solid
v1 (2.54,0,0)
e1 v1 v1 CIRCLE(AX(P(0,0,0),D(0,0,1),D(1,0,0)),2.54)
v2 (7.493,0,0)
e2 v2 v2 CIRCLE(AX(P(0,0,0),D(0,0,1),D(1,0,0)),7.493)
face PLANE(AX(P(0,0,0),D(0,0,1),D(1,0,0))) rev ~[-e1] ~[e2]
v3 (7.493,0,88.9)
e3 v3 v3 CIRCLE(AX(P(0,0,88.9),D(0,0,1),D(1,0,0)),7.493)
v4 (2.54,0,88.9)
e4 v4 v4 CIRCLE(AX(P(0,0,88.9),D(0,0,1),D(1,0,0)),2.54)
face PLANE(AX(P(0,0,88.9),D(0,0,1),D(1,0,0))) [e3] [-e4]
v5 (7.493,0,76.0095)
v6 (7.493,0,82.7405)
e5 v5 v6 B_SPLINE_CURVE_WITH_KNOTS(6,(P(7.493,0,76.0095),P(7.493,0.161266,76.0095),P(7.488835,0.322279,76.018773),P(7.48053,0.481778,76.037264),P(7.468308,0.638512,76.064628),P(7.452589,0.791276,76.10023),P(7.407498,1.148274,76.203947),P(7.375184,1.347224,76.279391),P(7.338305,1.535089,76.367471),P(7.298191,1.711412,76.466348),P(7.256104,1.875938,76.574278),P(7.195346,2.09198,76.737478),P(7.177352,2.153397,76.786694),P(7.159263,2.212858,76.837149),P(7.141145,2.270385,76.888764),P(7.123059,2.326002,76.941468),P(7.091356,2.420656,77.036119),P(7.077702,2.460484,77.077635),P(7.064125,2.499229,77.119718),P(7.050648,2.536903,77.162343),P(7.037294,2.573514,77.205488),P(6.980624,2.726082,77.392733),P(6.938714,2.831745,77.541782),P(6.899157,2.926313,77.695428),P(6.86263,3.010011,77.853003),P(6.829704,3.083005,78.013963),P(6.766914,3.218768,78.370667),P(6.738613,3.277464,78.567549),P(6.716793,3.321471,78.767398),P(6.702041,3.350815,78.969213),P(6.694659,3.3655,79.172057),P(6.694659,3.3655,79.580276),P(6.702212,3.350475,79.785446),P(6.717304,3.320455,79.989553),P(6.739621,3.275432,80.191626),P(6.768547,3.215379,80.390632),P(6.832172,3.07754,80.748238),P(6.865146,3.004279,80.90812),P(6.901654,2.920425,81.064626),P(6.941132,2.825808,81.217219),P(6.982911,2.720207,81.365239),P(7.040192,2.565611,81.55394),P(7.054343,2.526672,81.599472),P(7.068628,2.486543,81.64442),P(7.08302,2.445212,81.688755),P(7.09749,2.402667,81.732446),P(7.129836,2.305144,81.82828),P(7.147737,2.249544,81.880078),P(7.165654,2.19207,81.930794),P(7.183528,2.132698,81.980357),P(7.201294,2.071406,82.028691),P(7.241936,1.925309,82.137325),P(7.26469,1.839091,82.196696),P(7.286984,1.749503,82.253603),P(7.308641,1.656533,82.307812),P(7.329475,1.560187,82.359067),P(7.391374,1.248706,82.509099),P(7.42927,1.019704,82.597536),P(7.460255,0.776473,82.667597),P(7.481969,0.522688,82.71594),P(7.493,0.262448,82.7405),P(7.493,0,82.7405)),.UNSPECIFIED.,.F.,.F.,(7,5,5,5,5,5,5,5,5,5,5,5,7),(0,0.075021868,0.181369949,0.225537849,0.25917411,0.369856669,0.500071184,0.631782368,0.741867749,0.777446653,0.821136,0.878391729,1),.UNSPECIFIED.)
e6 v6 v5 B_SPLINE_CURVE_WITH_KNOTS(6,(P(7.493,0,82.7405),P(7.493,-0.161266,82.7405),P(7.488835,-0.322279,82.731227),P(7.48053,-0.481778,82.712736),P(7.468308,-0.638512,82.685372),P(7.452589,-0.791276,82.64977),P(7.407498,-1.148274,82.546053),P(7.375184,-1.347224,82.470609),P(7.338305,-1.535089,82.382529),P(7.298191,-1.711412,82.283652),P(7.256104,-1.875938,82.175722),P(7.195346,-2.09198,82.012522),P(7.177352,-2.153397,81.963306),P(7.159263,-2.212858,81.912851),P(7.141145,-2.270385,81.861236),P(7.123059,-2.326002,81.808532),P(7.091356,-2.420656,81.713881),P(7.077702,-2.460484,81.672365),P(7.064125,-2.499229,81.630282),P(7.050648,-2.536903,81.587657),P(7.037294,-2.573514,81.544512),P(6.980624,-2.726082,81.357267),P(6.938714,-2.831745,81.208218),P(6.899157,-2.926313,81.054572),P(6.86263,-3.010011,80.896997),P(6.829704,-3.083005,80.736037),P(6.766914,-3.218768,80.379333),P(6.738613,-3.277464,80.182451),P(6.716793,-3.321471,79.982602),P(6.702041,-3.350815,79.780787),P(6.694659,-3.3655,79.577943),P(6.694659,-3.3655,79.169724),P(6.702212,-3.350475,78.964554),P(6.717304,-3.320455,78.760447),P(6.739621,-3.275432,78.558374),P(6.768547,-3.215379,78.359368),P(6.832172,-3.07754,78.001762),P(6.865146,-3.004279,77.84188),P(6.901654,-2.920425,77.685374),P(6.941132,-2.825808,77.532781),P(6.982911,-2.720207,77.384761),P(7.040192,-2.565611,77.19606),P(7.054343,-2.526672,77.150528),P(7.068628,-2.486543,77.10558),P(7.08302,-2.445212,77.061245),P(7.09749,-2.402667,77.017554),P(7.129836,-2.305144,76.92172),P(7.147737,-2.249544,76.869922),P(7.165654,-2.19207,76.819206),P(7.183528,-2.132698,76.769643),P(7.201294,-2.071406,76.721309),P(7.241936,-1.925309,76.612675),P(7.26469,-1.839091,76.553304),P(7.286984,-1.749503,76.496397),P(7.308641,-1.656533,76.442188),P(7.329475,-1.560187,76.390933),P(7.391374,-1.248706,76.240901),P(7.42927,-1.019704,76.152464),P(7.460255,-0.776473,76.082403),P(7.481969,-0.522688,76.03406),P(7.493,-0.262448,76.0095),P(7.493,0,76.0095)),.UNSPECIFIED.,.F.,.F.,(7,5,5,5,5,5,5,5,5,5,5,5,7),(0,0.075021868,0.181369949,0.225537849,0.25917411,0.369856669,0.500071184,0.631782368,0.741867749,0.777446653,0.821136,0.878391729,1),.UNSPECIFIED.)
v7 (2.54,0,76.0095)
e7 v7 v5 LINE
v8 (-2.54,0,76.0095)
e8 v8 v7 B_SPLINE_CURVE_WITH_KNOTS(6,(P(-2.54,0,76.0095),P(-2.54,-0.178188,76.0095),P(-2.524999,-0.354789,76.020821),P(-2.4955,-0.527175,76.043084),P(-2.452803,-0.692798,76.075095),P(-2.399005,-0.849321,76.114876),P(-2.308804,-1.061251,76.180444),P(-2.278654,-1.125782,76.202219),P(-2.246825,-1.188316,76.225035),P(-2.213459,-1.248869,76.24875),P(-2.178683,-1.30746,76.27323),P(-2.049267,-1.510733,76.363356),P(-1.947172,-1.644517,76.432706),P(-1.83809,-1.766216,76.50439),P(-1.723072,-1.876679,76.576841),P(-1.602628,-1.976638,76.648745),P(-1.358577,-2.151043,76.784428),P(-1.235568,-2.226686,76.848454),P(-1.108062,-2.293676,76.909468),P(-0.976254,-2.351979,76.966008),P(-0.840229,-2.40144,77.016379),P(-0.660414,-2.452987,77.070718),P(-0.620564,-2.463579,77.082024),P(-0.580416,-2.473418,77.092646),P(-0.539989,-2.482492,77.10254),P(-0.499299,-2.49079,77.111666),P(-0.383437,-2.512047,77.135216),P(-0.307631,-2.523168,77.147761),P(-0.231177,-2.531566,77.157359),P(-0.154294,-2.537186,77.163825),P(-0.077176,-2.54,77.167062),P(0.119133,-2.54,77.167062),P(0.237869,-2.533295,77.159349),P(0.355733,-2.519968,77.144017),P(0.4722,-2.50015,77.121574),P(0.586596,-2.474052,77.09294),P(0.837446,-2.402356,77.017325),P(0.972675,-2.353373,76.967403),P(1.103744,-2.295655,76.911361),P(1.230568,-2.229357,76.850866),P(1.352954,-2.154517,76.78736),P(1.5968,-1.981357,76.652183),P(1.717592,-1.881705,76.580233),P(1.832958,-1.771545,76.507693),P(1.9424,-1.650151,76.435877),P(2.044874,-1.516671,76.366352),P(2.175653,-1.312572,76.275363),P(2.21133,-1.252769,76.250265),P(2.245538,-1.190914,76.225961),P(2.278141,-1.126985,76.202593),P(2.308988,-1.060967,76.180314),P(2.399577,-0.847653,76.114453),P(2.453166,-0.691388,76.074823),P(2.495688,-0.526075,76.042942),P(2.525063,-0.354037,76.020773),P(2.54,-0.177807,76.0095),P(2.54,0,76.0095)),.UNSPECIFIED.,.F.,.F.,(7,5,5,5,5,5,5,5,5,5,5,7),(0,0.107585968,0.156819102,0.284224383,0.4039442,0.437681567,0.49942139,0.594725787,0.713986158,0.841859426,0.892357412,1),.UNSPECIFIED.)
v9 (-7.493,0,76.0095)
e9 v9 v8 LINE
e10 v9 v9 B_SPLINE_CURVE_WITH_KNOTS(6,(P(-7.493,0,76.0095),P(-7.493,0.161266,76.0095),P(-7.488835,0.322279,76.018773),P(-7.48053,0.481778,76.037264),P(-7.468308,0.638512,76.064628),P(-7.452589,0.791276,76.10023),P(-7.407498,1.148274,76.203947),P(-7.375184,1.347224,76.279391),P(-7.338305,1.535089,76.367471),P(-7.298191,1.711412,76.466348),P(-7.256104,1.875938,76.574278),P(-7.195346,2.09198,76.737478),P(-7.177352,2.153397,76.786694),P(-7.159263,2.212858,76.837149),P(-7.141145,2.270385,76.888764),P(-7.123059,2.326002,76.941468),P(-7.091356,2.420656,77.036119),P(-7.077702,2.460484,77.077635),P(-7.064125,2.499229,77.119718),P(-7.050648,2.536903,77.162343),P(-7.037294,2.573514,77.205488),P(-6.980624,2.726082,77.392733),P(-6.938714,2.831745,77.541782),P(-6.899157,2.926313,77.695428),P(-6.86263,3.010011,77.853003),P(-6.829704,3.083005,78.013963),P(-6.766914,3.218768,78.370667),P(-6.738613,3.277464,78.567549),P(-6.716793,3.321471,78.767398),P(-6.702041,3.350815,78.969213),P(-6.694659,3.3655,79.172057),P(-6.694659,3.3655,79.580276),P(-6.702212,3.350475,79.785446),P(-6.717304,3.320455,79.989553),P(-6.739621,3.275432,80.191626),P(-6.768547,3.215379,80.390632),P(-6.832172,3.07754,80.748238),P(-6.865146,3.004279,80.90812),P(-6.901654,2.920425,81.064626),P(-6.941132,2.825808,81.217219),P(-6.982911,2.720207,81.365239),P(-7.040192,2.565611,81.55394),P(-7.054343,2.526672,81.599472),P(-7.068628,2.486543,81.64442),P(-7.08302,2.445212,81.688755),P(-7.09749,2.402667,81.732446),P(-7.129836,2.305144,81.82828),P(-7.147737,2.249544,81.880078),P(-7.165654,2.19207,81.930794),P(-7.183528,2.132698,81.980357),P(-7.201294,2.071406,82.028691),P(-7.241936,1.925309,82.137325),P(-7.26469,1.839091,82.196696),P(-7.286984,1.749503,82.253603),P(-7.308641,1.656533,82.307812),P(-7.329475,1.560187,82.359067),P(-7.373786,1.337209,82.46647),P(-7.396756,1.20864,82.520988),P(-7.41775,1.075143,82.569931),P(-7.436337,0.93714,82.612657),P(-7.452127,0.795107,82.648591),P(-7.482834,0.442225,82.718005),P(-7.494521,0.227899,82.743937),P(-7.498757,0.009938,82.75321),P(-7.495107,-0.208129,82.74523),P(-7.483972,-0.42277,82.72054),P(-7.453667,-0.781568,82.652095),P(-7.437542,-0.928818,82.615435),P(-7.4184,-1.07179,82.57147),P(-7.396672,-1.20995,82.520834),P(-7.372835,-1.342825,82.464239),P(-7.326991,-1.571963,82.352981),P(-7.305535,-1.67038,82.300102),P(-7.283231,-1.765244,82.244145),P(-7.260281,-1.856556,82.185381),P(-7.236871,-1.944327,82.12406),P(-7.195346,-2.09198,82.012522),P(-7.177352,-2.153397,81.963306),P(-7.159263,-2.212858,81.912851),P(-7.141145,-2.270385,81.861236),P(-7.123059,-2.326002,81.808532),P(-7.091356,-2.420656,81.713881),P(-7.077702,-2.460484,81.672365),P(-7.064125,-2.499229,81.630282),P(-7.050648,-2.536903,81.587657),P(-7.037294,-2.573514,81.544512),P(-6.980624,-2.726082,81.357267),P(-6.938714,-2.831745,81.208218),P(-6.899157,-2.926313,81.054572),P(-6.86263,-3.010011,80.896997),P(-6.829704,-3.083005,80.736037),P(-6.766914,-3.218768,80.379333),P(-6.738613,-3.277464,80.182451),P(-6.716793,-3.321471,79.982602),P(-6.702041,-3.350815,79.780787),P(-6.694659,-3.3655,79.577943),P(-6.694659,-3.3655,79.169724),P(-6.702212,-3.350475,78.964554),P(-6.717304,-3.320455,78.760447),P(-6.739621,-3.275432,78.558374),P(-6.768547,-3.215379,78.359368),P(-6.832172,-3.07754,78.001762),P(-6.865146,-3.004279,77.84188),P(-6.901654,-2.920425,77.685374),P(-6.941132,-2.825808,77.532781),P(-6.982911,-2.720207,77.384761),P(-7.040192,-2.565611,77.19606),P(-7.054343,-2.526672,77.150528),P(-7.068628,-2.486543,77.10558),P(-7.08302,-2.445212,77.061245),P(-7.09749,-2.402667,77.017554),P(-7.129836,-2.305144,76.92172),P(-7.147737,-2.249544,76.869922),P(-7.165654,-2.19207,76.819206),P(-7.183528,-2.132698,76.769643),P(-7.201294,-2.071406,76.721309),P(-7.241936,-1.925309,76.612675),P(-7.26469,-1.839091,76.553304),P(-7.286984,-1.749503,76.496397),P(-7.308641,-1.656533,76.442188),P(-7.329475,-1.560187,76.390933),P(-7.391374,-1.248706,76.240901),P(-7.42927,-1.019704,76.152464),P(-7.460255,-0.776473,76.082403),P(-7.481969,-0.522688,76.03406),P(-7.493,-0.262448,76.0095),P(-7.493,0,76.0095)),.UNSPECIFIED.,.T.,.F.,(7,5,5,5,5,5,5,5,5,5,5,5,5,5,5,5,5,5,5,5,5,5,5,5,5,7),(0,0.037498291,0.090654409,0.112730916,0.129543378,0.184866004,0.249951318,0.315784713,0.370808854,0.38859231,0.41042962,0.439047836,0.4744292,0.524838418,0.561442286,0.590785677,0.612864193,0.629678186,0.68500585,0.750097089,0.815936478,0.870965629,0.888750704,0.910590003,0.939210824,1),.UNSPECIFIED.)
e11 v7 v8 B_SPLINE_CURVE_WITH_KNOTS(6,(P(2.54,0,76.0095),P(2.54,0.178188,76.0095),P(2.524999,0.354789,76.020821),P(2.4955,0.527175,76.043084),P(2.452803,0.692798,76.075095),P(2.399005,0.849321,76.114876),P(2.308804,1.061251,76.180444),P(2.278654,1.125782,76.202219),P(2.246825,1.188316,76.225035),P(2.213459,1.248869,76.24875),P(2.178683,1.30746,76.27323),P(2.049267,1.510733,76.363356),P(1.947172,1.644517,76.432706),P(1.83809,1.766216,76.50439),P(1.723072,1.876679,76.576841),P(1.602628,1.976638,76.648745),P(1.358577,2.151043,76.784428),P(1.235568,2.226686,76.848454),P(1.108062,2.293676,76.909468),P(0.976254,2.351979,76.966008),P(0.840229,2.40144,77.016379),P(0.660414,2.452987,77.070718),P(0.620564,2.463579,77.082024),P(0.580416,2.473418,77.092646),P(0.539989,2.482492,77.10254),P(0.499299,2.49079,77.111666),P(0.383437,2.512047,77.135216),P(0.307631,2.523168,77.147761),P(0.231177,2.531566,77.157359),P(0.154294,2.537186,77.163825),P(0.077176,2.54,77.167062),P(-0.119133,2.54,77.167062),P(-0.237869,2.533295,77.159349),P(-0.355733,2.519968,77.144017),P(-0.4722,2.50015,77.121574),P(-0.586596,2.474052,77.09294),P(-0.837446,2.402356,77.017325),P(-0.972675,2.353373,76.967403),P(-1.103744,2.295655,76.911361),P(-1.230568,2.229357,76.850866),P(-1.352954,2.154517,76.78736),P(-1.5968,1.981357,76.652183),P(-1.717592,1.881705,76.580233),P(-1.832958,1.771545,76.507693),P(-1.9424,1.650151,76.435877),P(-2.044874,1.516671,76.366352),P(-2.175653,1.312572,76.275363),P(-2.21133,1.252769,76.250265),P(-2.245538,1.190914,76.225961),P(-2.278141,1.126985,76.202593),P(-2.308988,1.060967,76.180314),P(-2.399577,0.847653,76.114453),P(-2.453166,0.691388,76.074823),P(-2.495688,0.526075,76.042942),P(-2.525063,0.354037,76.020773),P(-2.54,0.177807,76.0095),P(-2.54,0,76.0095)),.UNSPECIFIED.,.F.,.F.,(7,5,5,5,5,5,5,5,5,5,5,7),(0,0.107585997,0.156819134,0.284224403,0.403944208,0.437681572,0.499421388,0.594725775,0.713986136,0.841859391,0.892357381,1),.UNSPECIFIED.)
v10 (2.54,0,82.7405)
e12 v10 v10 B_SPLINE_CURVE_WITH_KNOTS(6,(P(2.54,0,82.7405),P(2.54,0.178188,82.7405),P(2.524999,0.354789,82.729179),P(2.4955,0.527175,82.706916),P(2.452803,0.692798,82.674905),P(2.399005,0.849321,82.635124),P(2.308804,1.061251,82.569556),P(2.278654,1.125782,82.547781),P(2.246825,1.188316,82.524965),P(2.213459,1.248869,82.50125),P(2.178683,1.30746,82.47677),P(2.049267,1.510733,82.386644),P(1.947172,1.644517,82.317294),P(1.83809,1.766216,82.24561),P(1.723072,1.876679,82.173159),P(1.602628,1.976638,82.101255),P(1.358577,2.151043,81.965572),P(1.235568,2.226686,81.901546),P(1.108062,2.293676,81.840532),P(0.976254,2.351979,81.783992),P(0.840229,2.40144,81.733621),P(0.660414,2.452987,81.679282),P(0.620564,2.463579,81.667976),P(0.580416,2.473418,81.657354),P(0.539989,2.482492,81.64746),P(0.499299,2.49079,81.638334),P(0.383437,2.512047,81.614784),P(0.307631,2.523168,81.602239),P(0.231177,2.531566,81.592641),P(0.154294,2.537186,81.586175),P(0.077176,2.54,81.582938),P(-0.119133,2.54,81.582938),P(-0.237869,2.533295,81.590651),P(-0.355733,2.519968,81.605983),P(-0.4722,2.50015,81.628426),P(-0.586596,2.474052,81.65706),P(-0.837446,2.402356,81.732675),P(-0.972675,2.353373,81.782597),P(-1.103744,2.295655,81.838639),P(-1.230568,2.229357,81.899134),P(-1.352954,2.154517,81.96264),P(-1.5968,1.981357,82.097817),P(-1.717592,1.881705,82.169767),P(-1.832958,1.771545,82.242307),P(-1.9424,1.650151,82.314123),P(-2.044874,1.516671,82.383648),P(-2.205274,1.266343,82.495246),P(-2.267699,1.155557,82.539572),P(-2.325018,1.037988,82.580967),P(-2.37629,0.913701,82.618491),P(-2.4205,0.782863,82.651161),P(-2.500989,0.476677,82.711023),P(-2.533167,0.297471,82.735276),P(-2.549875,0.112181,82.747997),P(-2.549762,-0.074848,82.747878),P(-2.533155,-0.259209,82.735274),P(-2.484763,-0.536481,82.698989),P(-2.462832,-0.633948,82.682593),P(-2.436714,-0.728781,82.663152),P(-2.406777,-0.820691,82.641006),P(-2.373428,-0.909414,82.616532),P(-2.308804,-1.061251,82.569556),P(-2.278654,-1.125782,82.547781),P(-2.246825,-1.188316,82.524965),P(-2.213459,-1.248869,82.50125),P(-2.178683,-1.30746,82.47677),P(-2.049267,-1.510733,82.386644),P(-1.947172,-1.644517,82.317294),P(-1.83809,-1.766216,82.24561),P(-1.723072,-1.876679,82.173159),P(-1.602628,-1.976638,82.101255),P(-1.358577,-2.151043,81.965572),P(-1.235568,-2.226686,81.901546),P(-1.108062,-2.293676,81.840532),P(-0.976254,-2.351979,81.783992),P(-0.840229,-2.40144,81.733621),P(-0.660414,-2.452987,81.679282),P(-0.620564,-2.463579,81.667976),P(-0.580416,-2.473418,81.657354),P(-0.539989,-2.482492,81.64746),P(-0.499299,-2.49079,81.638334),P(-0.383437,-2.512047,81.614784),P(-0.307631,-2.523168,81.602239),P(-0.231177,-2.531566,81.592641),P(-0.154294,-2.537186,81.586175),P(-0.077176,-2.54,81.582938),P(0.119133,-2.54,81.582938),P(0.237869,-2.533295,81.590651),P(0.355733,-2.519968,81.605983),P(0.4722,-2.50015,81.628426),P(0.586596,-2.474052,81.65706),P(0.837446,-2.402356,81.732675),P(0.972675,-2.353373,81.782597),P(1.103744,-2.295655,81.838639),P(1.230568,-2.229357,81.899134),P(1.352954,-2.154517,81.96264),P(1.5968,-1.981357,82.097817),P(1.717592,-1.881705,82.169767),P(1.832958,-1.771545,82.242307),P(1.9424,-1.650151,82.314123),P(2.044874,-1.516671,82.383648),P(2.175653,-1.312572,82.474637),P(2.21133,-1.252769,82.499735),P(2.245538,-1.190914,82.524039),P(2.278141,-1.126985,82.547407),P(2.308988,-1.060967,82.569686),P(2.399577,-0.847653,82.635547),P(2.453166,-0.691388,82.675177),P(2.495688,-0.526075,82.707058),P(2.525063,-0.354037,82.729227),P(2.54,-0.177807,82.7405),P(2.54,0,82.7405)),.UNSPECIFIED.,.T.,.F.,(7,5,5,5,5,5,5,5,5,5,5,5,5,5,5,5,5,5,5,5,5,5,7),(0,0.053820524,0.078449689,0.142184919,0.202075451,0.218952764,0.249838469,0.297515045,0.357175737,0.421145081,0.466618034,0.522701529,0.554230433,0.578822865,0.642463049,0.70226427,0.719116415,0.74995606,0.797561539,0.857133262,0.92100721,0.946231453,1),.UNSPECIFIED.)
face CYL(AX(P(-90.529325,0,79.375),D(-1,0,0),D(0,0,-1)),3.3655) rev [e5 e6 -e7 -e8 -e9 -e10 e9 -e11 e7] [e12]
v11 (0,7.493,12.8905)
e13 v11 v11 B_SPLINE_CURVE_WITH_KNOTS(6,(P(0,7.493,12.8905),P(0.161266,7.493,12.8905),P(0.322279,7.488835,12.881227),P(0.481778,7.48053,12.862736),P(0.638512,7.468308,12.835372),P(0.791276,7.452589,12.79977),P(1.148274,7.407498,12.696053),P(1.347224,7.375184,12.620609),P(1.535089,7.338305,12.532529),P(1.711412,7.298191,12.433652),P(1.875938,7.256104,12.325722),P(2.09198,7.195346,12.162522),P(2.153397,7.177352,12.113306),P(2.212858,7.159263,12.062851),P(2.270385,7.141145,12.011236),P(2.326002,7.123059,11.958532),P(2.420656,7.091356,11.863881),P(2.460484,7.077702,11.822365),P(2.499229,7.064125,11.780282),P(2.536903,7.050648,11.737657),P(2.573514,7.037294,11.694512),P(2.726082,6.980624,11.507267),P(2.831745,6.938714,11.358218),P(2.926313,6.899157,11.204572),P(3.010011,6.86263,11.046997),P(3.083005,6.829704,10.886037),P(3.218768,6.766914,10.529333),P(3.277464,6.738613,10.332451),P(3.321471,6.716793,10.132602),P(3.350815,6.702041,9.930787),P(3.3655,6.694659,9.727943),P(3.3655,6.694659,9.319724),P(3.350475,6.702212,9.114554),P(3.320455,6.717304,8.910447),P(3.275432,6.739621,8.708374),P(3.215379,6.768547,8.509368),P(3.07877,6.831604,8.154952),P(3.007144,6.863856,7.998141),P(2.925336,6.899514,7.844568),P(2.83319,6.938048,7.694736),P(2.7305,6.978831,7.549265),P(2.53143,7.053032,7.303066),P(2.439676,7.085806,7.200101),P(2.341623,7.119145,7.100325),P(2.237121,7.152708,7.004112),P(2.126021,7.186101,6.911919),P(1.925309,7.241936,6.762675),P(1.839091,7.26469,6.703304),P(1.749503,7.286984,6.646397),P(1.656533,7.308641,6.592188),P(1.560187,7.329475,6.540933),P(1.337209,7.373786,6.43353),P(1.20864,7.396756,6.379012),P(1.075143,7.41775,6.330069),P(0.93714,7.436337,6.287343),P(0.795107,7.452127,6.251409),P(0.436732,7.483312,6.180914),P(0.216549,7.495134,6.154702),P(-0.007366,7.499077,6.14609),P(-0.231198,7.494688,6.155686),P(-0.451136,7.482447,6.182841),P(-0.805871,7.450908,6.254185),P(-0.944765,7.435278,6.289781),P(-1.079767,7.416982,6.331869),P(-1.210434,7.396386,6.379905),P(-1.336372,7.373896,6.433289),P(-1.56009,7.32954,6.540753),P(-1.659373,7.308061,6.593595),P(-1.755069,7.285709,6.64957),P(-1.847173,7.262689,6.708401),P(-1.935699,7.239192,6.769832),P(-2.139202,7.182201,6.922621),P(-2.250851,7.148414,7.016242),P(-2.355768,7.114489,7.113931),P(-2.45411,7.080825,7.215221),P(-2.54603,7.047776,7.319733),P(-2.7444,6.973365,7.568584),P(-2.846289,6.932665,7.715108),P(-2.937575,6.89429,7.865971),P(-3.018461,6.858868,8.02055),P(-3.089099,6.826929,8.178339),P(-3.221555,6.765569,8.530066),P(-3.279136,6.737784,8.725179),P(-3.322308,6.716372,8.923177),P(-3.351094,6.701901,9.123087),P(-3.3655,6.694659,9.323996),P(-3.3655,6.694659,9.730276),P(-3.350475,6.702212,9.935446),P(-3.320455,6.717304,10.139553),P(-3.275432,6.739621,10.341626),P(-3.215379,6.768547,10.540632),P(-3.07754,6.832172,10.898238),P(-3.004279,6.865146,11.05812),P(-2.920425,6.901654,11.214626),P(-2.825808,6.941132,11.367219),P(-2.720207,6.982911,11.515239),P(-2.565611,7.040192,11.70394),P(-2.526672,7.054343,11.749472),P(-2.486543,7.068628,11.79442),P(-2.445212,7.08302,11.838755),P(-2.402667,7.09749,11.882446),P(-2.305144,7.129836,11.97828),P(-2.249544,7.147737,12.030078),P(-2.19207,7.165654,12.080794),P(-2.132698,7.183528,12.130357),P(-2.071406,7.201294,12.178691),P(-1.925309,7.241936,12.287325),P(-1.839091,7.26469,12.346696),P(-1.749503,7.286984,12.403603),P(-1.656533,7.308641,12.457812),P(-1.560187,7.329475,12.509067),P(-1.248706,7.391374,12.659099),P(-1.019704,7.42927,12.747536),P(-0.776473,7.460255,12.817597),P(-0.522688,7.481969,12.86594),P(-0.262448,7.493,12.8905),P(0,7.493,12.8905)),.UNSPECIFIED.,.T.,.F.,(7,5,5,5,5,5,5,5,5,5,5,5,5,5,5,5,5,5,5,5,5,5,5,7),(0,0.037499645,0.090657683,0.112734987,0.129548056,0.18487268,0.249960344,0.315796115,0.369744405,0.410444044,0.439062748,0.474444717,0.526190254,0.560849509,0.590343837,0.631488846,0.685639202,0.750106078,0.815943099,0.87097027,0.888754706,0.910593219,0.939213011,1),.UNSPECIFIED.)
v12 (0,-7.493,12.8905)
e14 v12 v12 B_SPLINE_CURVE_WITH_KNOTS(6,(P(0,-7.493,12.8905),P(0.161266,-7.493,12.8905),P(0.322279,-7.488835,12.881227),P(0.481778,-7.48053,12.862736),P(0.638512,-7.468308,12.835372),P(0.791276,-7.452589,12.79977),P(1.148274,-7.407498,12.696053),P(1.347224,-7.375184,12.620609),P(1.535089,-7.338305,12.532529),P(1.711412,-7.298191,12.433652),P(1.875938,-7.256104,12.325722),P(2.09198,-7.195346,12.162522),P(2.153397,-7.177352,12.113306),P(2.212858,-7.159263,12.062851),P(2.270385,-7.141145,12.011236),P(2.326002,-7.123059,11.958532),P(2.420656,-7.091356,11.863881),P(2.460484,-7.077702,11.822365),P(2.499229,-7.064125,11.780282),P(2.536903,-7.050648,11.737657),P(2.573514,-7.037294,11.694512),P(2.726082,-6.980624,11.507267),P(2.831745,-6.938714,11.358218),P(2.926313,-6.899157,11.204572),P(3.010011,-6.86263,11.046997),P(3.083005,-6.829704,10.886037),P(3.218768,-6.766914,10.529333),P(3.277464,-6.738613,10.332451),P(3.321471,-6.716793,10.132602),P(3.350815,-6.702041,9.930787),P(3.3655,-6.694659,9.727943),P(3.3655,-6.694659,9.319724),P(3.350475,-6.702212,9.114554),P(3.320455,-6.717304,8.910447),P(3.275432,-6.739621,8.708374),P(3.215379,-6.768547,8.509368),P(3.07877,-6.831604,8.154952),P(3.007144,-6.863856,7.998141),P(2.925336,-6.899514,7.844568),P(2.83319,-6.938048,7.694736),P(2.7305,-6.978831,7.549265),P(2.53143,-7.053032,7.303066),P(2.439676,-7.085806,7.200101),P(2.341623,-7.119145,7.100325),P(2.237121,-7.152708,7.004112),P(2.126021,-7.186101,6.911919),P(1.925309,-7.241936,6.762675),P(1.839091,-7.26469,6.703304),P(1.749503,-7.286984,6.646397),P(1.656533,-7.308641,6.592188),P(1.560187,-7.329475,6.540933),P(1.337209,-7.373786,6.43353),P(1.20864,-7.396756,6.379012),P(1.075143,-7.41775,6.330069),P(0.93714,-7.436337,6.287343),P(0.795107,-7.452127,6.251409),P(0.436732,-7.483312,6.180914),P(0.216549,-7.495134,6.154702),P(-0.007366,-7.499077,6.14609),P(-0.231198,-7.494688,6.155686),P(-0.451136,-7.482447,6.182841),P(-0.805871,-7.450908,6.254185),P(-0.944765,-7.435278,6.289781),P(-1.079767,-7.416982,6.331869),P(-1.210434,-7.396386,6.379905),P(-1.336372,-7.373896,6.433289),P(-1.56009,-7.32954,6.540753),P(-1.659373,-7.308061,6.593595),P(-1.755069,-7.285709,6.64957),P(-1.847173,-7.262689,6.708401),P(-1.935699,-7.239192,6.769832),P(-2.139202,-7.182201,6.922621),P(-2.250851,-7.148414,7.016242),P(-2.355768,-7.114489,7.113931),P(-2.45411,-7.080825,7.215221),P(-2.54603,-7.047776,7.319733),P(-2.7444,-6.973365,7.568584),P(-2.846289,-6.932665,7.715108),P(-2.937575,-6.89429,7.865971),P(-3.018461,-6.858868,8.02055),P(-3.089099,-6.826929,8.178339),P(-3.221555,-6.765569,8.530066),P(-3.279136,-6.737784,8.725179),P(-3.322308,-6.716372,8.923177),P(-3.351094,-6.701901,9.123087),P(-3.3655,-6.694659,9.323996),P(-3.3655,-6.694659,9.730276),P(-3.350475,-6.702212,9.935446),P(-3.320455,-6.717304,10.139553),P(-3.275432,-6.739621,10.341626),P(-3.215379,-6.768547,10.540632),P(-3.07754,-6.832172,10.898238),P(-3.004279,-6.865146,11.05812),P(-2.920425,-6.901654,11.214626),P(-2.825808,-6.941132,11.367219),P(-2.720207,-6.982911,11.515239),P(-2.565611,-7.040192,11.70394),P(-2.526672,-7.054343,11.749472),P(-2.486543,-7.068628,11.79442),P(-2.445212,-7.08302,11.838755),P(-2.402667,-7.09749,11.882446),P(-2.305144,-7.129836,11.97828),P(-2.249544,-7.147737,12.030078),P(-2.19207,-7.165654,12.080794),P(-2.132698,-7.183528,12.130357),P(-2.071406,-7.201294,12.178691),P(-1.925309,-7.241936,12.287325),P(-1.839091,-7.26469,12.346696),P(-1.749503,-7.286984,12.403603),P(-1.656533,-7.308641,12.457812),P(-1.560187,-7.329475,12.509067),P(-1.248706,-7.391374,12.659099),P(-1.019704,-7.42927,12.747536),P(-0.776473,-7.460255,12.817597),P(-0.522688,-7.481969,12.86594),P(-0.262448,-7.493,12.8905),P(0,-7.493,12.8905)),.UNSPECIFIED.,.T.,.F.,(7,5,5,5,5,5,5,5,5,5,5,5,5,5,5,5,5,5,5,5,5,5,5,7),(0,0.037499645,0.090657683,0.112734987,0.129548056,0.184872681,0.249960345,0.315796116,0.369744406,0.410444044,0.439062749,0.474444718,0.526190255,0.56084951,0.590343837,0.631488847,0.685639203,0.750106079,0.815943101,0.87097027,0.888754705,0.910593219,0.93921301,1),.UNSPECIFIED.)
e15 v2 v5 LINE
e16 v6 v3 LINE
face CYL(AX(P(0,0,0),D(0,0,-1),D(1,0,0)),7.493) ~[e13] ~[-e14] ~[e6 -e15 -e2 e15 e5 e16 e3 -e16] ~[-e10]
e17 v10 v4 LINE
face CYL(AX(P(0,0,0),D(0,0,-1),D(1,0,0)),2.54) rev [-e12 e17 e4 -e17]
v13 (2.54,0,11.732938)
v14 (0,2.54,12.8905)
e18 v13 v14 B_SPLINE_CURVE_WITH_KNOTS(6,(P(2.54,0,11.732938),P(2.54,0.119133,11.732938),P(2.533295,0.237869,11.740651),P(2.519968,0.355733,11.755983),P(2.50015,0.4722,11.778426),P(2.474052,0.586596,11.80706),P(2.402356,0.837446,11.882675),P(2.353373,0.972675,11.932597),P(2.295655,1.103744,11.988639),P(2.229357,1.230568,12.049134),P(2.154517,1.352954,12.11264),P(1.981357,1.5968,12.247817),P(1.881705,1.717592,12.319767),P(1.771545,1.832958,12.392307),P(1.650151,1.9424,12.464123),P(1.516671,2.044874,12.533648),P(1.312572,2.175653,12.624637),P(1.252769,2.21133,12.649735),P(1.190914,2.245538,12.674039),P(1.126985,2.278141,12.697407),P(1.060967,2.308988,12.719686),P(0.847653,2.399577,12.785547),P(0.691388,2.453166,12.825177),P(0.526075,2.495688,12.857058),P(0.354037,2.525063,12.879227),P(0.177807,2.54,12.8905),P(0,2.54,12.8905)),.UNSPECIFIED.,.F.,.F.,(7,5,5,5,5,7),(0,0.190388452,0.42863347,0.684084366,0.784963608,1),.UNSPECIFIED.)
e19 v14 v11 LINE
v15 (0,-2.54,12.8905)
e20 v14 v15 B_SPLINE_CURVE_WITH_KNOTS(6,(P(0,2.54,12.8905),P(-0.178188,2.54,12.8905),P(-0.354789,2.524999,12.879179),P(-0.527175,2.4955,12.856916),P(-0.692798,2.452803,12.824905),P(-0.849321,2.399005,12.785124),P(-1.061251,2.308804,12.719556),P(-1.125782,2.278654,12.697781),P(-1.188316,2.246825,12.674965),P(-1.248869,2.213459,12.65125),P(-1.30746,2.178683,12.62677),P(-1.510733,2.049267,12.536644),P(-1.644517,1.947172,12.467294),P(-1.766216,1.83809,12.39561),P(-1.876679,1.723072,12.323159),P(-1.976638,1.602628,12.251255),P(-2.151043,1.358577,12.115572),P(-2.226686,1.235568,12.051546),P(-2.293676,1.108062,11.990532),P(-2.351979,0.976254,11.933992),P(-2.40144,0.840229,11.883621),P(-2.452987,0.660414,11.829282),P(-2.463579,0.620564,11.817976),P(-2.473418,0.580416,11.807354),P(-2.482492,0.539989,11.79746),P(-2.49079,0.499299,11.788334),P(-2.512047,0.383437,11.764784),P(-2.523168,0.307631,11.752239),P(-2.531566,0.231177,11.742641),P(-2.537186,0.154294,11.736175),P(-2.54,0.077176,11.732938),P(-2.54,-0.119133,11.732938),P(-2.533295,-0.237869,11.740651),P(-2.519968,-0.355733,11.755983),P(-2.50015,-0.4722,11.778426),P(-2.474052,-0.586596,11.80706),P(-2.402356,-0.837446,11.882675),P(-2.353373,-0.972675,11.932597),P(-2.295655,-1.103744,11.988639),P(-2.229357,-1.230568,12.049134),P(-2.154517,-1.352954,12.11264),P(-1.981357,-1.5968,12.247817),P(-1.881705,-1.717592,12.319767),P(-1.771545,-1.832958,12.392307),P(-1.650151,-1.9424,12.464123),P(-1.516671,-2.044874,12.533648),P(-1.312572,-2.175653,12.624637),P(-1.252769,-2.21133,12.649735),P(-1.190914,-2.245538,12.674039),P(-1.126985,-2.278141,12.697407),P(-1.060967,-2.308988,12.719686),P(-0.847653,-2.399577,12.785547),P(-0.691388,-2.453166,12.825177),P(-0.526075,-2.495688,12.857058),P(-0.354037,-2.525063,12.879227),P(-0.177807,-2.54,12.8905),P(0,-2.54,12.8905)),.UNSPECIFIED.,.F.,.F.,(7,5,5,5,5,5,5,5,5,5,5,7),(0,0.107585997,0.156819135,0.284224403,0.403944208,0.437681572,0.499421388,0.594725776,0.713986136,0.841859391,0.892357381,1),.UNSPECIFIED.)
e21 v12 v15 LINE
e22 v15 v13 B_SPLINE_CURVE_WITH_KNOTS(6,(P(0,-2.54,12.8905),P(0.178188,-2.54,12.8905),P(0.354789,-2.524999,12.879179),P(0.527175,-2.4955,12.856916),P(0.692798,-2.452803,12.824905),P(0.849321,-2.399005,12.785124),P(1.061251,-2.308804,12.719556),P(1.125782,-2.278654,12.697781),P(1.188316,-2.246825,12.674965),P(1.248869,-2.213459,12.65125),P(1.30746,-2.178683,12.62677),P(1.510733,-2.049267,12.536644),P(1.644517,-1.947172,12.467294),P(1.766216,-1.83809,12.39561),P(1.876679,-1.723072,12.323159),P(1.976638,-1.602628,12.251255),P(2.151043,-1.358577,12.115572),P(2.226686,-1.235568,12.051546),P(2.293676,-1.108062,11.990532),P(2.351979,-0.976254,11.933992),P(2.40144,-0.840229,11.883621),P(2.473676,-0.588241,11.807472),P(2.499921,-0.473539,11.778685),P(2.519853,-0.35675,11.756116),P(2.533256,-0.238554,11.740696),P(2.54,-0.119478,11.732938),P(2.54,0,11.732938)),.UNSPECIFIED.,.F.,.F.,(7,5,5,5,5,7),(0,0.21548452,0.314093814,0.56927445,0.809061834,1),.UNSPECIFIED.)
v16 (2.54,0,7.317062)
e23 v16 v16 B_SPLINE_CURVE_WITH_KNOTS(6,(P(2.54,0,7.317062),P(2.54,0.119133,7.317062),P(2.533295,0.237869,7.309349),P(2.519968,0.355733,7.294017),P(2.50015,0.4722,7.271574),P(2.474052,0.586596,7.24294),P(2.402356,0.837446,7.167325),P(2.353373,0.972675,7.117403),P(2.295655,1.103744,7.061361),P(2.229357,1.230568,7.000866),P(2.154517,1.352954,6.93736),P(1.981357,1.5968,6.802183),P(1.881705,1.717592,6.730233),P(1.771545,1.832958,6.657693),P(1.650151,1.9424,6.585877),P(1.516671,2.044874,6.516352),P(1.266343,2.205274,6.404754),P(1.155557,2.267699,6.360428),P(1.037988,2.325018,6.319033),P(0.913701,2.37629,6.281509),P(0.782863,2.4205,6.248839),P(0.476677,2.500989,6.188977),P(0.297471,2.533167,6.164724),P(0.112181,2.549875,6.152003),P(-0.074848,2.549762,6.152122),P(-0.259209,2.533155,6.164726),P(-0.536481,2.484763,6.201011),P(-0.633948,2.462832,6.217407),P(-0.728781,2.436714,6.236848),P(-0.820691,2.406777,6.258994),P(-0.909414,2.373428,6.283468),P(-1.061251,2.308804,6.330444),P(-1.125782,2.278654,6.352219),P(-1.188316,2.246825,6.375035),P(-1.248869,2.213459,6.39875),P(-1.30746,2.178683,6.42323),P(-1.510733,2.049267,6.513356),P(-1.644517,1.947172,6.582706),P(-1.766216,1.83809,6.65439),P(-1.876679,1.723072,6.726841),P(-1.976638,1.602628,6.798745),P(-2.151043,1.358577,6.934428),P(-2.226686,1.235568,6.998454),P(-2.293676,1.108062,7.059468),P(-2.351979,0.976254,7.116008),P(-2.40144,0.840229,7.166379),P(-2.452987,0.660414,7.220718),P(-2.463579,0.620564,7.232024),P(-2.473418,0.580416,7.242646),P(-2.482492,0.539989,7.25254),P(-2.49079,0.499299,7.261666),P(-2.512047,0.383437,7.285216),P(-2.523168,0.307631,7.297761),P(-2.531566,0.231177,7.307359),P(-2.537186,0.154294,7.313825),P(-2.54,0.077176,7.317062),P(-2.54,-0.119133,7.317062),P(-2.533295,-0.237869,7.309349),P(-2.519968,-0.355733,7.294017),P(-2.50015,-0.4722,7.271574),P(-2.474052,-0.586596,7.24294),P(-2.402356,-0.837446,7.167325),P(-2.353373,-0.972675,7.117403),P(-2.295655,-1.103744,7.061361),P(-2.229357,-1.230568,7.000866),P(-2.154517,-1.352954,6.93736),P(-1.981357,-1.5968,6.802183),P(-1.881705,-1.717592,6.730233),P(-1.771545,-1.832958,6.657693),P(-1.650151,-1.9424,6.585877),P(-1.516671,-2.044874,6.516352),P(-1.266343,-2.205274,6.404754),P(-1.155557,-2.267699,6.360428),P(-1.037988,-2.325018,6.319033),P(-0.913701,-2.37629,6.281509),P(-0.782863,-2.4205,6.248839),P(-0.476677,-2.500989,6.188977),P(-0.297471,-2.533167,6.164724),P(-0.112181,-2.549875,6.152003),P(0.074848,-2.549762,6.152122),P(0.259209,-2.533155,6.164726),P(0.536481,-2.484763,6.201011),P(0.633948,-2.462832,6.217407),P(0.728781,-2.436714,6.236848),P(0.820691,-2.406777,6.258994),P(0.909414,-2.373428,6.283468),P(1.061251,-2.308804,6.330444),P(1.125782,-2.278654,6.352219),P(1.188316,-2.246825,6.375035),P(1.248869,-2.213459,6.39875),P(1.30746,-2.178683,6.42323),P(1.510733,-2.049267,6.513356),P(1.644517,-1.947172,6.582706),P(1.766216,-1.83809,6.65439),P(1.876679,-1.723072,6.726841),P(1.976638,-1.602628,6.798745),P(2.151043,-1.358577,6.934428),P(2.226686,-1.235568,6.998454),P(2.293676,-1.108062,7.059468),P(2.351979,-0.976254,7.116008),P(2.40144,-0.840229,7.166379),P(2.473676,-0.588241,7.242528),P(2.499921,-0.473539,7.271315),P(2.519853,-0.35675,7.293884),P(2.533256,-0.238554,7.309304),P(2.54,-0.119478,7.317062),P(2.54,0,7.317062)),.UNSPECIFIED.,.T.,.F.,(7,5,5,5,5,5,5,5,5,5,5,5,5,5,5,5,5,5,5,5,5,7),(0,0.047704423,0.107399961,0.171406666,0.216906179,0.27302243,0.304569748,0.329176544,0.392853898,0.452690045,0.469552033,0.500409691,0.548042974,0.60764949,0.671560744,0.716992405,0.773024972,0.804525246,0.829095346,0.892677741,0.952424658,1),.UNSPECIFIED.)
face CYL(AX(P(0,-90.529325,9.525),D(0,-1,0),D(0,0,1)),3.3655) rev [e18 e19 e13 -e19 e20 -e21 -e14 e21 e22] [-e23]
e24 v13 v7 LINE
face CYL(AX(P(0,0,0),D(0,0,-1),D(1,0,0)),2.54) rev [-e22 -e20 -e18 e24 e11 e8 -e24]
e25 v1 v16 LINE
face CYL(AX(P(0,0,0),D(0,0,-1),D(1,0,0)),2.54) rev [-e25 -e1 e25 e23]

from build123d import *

# Parameters (mm, degrees)
SKETCH1_R               = 7.493
SKETCH1_R_2             = 2.54
BOSS_EXTRUDE1_DEPTH     = 88.9
CUT_EXTRUDE2_DEPTH      = 90.529325352
CUT_EXTRUDE2_DEPTH_BACK = 90.529325352
SKETCH7_R               = 3.3655
CUT_EXTRUDE3_DEPTH      = 90.529325468
CUT_EXTRUDE3_DEPTH_BACK = 90.529325468
SKETCH8_R               = 3.3655


with BuildPart() as part:
    # Sketch1 → Boss-Extrude1 (new body)
    with BuildSketch(Plane.XY):
        Circle(SKETCH1_R)
        Circle(SKETCH1_R_2, mode=Mode.SUBTRACT)
    extrude(amount=BOSS_EXTRUDE1_DEPTH)

    # Sketch7 → Cut-Extrude2 (cut, two sides: drawn at the far end of the back side and taken through both)
    with BuildSketch(Plane(origin=(0, 0, 0), x_dir=(1, 0, 0), z_dir=(0, 1, 0)).offset(-CUT_EXTRUDE2_DEPTH_BACK)):
        with Locations(Location((0, -9.525, 0), (0, 0, 270))):
            Circle(SKETCH7_R)
    extrude(amount=CUT_EXTRUDE2_DEPTH + CUT_EXTRUDE2_DEPTH_BACK, mode=Mode.SUBTRACT)

    # Sketch8 → Cut-Extrude3 (cut, two sides: drawn at the far end of the back side and taken through both)
    with BuildSketch(Plane(origin=(0, 0, 0), x_dir=(0, 0, -1), z_dir=(1, 0, 0)).offset(-CUT_EXTRUDE3_DEPTH_BACK)):
        with Locations((-79.375, 0)):
            Circle(SKETCH8_R)
    extrude(amount=CUT_EXTRUDE3_DEPTH + CUT_EXTRUDE3_DEPTH_BACK, mode=Mode.SUBTRACT)


solid = part.part
